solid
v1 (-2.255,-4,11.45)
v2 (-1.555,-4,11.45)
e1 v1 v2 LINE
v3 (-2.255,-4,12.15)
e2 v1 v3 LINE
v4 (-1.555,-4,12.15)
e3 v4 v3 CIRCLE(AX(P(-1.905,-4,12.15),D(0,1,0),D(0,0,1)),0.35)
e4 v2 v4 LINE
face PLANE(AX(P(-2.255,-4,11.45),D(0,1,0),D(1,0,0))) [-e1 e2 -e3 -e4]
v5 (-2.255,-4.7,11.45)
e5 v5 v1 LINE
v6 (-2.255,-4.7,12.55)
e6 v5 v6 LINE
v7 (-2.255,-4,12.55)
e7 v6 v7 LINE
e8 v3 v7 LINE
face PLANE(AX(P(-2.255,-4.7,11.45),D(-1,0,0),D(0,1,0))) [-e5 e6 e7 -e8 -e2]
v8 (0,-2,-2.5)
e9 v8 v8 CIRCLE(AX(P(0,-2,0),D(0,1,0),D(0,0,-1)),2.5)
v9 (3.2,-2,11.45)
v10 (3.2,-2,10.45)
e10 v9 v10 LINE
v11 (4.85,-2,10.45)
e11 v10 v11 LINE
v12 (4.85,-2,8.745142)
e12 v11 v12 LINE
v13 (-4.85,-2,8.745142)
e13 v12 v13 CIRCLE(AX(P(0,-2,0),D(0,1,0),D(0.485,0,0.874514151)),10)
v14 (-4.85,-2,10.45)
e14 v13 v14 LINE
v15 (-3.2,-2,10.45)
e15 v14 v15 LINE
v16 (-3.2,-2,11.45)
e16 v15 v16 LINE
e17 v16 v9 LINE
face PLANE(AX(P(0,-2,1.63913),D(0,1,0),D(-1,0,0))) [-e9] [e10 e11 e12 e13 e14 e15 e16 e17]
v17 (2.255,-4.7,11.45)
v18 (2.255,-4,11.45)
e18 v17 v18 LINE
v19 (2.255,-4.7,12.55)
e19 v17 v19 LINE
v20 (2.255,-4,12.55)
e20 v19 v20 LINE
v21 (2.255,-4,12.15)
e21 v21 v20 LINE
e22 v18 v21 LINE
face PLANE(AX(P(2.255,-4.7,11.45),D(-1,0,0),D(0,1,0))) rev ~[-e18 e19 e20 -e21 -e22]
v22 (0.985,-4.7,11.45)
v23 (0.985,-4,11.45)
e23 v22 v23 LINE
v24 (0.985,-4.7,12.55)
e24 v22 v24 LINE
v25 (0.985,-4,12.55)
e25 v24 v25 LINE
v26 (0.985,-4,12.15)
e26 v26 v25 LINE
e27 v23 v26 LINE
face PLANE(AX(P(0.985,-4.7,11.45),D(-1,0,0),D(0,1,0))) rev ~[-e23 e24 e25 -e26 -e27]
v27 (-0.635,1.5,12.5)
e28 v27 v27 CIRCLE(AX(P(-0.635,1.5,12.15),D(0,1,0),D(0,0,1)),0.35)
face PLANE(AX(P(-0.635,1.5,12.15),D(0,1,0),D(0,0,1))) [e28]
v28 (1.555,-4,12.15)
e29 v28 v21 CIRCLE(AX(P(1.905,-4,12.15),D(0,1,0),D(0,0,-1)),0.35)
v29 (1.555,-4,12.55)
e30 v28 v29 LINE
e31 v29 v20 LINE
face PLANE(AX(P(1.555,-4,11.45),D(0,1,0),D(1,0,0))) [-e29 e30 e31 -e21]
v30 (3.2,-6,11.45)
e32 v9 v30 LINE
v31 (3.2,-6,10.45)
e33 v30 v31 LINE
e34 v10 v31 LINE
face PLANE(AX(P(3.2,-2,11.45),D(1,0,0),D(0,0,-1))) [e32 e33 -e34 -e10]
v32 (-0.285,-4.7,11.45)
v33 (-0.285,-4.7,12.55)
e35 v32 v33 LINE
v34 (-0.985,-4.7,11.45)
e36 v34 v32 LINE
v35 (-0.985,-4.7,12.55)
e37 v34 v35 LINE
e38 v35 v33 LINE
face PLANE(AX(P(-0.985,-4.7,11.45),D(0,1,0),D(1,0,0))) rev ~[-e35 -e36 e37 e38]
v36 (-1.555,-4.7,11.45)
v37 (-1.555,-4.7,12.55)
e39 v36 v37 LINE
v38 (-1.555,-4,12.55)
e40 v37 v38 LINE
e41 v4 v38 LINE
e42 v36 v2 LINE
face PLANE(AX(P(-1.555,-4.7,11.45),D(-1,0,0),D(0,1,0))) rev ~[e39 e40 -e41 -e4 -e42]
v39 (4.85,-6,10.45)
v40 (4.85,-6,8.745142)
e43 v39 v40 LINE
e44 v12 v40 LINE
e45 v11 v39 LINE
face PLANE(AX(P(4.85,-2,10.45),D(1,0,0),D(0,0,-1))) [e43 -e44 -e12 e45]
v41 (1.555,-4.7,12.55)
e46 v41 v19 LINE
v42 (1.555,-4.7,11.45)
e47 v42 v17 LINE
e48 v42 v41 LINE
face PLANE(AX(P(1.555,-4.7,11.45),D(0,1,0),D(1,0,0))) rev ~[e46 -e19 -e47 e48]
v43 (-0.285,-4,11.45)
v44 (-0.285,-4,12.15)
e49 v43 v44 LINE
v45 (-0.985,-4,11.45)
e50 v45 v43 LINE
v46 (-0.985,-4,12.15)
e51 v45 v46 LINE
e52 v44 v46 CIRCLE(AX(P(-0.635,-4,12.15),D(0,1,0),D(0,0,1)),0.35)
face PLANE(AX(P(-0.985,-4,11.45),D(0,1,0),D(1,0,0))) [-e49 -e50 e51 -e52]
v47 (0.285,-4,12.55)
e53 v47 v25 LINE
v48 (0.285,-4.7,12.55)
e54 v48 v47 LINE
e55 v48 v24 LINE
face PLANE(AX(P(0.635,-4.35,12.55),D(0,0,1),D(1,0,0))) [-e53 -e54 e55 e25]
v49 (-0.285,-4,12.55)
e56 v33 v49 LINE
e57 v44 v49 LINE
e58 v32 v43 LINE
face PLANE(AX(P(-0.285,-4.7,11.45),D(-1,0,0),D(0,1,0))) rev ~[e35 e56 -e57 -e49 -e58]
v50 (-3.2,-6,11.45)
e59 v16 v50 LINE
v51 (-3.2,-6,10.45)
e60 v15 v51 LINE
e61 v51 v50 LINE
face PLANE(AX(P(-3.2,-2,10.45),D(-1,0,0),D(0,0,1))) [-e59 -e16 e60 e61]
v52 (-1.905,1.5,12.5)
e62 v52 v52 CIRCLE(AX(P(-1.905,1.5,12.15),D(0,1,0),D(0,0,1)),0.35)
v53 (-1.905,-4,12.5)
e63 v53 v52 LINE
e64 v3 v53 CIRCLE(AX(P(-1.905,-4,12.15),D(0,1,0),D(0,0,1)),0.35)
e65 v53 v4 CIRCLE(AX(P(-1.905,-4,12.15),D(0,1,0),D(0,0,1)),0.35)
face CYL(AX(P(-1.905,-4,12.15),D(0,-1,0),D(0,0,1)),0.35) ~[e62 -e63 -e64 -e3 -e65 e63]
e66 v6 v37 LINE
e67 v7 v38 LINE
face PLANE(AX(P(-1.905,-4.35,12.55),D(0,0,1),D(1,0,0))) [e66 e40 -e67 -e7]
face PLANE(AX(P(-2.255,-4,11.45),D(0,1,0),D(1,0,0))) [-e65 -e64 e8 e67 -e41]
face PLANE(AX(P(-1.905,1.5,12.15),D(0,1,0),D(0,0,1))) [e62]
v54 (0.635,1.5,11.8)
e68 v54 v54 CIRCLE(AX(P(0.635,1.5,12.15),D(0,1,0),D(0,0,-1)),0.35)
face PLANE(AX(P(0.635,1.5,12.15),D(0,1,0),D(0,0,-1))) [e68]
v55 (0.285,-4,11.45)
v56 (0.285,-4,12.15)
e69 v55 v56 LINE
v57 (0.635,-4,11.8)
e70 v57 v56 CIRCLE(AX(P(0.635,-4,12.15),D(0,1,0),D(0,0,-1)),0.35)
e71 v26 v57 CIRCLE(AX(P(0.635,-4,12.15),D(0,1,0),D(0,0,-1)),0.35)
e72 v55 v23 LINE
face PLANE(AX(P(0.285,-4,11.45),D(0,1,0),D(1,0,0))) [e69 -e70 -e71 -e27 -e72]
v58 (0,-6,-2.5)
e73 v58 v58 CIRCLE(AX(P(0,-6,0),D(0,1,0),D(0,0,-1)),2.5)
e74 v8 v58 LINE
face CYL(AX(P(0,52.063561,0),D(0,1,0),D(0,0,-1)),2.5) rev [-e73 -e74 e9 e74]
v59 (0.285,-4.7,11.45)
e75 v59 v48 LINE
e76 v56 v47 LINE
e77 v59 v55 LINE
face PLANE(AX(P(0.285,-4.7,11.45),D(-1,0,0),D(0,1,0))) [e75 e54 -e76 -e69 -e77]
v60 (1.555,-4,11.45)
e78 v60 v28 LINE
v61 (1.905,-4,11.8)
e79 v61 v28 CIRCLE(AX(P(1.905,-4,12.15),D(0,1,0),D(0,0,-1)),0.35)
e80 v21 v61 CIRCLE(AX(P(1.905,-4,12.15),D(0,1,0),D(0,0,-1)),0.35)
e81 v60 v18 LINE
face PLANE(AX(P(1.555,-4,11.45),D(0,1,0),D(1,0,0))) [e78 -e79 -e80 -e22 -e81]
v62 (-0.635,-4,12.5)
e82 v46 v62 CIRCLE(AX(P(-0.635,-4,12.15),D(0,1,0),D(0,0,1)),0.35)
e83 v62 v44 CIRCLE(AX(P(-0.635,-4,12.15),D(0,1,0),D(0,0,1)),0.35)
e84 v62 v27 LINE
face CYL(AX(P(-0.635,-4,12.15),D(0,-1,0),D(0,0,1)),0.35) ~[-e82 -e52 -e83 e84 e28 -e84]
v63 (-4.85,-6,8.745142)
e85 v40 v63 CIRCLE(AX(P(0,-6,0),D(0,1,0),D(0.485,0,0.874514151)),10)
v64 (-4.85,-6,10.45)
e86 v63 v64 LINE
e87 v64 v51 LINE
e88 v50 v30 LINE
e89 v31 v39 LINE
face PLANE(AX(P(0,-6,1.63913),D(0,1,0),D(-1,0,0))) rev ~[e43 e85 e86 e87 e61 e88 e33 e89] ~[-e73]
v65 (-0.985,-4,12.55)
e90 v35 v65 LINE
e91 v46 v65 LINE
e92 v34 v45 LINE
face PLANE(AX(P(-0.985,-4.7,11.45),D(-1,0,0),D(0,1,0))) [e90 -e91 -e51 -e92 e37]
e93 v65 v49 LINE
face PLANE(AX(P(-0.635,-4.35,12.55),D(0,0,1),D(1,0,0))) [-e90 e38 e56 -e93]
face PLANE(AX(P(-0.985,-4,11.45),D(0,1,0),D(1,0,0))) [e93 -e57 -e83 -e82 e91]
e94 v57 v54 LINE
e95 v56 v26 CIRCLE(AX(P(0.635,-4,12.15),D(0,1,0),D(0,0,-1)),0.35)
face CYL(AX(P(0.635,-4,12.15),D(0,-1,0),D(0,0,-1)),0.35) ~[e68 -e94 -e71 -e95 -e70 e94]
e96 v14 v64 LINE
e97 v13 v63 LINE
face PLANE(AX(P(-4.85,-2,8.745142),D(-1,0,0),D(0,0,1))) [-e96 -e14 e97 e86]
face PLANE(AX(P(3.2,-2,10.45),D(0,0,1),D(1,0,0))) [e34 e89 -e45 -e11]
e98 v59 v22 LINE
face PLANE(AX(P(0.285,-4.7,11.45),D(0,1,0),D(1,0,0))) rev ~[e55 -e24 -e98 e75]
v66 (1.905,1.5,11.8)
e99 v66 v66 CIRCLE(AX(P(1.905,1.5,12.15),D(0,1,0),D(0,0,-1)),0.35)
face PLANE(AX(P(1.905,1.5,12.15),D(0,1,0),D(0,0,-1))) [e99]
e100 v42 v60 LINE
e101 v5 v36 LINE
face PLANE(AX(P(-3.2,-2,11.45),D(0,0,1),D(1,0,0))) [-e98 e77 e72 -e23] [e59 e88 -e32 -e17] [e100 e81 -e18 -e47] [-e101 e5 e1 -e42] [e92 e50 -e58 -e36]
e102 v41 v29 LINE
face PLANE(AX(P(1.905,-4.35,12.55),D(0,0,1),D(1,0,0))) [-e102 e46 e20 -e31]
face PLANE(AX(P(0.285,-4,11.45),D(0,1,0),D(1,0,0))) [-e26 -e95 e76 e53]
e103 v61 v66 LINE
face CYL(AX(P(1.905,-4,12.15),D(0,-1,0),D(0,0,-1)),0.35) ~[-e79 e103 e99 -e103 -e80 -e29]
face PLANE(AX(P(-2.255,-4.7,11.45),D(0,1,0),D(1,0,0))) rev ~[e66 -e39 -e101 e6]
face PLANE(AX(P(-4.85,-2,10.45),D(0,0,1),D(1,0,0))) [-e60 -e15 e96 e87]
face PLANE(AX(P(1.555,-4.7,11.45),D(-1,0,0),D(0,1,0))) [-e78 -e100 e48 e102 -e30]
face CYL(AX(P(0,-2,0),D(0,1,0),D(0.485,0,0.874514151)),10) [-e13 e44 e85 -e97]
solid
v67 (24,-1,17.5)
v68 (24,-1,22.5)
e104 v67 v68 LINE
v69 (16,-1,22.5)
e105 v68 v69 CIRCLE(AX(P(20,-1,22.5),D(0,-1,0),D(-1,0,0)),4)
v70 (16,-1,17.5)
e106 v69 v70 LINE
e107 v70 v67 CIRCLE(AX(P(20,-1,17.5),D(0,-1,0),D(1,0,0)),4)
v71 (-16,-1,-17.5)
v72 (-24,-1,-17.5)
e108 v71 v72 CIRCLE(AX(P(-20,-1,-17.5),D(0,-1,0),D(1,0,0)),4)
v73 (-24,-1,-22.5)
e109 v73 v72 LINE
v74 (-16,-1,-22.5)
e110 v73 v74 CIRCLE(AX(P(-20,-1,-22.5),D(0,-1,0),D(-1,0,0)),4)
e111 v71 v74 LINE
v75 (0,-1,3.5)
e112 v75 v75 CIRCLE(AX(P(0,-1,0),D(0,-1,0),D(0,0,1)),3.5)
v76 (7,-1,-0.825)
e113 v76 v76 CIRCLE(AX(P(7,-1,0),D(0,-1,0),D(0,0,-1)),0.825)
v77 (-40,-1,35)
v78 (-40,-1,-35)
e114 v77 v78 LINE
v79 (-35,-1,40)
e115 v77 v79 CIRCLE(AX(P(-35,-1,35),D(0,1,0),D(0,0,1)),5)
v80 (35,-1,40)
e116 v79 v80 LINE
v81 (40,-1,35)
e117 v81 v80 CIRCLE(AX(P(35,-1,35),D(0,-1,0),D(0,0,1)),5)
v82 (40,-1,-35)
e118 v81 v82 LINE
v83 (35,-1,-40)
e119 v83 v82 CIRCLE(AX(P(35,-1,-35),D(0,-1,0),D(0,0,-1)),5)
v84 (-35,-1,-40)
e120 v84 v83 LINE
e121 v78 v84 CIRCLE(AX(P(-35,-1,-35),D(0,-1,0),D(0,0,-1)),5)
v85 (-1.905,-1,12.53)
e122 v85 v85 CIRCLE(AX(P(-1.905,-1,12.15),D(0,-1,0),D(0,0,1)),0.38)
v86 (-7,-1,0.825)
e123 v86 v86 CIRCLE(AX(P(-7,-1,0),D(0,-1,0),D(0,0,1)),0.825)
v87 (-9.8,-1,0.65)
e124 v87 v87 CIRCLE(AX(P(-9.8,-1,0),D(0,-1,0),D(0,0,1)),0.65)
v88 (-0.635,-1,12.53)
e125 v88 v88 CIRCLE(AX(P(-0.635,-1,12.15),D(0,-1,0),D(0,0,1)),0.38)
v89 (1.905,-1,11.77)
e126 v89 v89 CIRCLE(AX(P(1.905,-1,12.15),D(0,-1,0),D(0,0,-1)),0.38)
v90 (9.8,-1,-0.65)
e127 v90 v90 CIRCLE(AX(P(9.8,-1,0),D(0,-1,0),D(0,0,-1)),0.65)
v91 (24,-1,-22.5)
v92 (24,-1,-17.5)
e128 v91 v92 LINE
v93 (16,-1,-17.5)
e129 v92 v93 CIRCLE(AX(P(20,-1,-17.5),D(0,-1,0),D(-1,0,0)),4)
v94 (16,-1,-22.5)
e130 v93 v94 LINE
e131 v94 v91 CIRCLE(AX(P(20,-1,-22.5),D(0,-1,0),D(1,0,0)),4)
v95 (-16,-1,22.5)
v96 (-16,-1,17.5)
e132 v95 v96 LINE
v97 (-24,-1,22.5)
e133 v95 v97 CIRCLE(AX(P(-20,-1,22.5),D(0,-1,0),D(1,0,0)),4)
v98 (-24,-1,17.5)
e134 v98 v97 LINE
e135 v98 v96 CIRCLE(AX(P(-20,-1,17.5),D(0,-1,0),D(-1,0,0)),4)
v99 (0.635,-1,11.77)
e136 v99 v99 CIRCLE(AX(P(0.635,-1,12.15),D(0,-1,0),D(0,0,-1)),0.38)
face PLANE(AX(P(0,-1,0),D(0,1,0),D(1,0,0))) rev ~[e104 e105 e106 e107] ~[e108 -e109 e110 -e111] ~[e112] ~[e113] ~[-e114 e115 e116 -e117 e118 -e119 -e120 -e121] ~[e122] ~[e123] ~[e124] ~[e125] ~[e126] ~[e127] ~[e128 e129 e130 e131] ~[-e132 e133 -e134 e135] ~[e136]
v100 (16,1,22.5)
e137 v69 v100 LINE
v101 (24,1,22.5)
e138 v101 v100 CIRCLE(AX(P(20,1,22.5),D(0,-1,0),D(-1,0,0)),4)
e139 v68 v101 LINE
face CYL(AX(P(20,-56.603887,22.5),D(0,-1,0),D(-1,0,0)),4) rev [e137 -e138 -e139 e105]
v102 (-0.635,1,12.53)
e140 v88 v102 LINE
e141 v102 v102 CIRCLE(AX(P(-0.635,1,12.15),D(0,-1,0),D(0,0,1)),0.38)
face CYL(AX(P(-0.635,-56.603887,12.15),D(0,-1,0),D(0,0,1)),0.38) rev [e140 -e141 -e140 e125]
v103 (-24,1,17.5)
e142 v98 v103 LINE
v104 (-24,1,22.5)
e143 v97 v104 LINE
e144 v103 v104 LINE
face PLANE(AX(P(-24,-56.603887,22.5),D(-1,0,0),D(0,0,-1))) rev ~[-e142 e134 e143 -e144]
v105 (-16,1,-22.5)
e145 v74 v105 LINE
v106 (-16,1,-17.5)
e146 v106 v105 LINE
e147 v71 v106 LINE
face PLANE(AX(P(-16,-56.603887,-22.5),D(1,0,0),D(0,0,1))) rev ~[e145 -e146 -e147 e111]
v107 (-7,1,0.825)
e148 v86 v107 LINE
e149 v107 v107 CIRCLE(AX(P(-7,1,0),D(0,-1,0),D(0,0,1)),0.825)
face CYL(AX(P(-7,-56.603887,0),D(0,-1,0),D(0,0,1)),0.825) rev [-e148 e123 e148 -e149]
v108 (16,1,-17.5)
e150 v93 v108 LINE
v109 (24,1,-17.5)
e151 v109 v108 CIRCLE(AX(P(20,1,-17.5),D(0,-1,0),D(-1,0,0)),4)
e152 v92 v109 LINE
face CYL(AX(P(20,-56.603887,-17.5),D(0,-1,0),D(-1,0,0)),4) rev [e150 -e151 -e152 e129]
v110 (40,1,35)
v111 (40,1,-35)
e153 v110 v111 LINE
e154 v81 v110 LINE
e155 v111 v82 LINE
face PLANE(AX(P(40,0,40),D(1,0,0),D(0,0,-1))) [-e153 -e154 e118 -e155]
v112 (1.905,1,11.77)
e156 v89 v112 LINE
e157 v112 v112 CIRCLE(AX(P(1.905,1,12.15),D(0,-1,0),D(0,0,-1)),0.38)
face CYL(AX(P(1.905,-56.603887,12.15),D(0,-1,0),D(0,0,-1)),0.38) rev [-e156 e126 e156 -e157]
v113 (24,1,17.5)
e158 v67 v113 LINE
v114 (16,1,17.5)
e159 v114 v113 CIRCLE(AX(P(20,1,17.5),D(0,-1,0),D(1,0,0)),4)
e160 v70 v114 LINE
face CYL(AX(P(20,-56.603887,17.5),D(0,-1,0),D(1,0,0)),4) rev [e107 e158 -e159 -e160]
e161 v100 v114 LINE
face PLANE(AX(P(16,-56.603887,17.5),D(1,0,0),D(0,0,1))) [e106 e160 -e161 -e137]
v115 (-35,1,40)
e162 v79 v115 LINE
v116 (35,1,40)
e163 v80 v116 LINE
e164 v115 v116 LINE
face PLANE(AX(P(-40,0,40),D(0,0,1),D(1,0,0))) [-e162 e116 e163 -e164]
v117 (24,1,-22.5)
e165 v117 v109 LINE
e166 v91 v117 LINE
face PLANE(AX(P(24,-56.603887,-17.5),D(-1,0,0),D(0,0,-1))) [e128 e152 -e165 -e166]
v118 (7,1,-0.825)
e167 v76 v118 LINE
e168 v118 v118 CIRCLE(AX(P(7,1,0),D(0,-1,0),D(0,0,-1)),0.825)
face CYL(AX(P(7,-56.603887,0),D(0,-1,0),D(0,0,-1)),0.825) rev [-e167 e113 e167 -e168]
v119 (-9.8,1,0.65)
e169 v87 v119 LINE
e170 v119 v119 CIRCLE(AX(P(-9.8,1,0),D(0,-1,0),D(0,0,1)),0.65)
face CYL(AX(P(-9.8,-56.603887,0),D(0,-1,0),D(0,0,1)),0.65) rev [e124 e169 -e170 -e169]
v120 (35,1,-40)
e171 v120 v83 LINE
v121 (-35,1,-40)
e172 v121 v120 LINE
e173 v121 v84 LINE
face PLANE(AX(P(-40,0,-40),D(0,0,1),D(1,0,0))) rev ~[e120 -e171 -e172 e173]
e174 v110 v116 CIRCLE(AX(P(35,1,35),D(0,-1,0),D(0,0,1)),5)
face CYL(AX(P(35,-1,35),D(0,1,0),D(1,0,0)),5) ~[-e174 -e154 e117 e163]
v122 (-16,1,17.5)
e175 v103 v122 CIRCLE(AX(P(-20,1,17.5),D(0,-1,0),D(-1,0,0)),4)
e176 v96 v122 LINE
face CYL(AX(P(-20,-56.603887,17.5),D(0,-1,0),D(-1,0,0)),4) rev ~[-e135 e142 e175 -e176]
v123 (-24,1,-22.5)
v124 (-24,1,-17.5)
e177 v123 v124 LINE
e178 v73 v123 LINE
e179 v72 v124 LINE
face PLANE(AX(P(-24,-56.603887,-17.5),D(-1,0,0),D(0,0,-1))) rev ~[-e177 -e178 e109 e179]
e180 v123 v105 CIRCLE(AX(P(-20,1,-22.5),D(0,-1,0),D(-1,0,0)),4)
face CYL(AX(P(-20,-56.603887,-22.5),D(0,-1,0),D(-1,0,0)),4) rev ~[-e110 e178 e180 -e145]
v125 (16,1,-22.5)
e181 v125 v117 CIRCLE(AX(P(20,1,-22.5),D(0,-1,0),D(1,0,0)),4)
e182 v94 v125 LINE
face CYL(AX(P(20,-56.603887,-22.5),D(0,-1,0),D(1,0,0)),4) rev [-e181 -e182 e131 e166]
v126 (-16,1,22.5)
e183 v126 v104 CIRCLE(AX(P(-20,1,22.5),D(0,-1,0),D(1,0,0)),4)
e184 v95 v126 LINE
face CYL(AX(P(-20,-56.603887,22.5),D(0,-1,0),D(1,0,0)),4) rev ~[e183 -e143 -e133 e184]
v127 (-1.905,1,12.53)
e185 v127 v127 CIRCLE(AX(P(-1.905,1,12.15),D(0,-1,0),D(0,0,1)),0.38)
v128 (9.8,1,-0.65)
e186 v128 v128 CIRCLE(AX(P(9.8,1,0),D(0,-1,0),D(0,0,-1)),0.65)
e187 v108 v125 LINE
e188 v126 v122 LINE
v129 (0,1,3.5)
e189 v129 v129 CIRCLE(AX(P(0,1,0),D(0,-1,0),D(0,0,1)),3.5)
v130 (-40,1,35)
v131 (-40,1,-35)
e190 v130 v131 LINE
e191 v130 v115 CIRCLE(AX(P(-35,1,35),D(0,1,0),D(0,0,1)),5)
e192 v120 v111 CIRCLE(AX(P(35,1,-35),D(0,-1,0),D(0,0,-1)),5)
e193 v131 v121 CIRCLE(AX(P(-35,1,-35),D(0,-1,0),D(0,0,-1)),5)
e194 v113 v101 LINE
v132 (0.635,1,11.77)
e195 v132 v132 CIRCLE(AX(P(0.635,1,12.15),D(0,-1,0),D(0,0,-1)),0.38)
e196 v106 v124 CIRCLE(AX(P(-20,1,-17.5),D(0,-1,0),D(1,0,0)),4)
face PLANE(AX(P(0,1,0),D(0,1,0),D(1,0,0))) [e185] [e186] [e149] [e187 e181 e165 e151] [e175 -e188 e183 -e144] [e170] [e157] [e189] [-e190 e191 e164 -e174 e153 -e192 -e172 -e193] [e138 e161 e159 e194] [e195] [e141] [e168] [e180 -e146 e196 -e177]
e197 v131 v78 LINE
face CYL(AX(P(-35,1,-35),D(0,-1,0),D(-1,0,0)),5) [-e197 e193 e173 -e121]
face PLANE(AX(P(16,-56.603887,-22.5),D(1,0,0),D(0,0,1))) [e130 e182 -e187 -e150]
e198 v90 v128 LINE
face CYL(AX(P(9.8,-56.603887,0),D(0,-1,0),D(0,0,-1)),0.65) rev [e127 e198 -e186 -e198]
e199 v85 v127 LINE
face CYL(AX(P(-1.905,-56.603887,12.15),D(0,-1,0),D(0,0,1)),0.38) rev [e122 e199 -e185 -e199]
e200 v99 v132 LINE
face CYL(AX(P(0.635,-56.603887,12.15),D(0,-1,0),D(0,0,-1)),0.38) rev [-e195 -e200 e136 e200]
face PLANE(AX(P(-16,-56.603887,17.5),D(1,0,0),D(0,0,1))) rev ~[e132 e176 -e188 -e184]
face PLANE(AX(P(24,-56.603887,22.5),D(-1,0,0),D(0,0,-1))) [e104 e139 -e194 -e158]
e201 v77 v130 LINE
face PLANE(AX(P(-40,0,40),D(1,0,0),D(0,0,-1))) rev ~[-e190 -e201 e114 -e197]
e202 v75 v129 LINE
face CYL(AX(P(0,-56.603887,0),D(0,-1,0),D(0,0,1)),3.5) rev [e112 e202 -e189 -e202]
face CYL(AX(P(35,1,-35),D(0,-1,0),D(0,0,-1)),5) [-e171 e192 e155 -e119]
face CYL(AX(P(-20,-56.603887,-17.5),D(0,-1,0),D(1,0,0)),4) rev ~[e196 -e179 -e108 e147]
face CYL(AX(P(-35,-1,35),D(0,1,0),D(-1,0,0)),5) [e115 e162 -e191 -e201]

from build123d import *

# Parameters (mm, degrees)
SKETCH1_W                  = 80
SKETCH1_H                  = 80
BOSS_EXTRUDE1_DEPTH        = 1
FILLET1_R                  = 5
FILLET3_R                  = 5
FILLET4_R                  = 5
FILLET5_R                  = 5
CUT_EXTRUDE1_DEPTH         = 57.603886792
CUT_EXTRUDE1_DEPTH_BACK    = 57.603886792
CUT_EXTRUDE2_DEPTH         = 57.603886792
CUT_EXTRUDE2_DEPTH_BACK    = 57.603886792
SKETCH3_R                  = 3.5
CUT_EXTRUDE3_DEPTH         = 57.603886792
CUT_EXTRUDE3_DEPTH_BACK    = 57.603886792
SKETCH4_R                  = 0.38
SKETCH4_R_2                = 0.65
SKETCH4_R_3                = 0.825
BOSS_EXTRUDE2_START        = 1
BOSS_EXTRUDE2_DEPTH        = 4
BOSS_EXTRUDE3_DEPTH        = 0.5
BOSS_EXTRUDE3_DEPTH_BACK   = 5
SKETCH7_R                  = 0.35
BOSS_EXTRUDE3_2_DEPTH      = 0.5
BOSS_EXTRUDE3_2_DEPTH_BACK = 5
BOSS_EXTRUDE3_3_DEPTH      = 0.5
BOSS_EXTRUDE3_3_DEPTH_BACK = 5
BOSS_EXTRUDE3_4_DEPTH      = 0.5
BOSS_EXTRUDE3_4_DEPTH_BACK = 5
SKETCH8_W                  = 0.7
SKETCH8_H                  = 0.7
BOSS_EXTRUDE4_DEPTH        = 1.1
CUT_EXTRUDE4_DEPTH         = 58.063561053
CUT_EXTRUDE4_DEPTH_BACK    = 58.063561053
SKETCH9_R                  = 2.5


with BuildPart() as part:
    # Sketch1 → Boss-Extrude1 (new, symmetric)
    with BuildSketch(Plane(origin=(0, 0, 0), x_dir=(1, 0, 0), z_dir=(0, 1, 0))):
        Rectangle(SKETCH1_W, SKETCH1_H)
    extrude(amount=BOSS_EXTRUDE1_DEPTH, both=True)

    # Fillet1
    fillet1_edges = [part.edges().sort_by_distance(p)[0] for p in [
        (-40, 0, 40),
    ]]
    fillet(fillet1_edges, radius=FILLET1_R)

    # Fillet3
    fillet3_edges = [part.edges().sort_by_distance(p)[0] for p in [
        (-40, 0, -40),
    ]]
    fillet(fillet3_edges, radius=FILLET3_R)

    # Fillet4
    fillet4_edges = [part.edges().sort_by_distance(p)[0] for p in [
        (40, 0, -40),
    ]]
    fillet(fillet4_edges, radius=FILLET4_R)

    # Fillet5
    fillet5_edges = [part.edges().sort_by_distance(p)[0] for p in [
        (40, 0, 40),
    ]]
    fillet(fillet5_edges, radius=FILLET5_R)

    # Sketch2 → Cut-Extrude1 (cut, two sides: drawn at the far end of the back side and taken through both)
    with BuildSketch(Plane(origin=(0, 1, 0), x_dir=(1, 0, 0), z_dir=(0, 1, 0)).offset(-CUT_EXTRUDE1_DEPTH_BACK)):
        with BuildLine():
            Line((-24, 17.5), (-24, 22.5))
            ThreePointArc((-24, 22.5), (-20, 26.5), (-16, 22.5))
            Line((-16, 22.5), (-16, 17.5))
            ThreePointArc((-16, 17.5), (-20, 13.5), (-24, 17.5))
        make_face()
        with BuildLine():
            Line((-16, -17.5), (-16, -22.5))
            ThreePointArc((-16, -22.5), (-20, -26.5), (-24, -22.5))
            Line((-24, -22.5), (-24, -17.5))
            ThreePointArc((-24, -17.5), (-20, -13.5), (-16, -17.5))
        make_face()
        with BuildLine():
            Line((16, -17.5), (16, -22.5))
            ThreePointArc((16, -22.5), (20, -26.5), (24, -22.5))
            Line((24, -22.5), (24, -17.5))
            ThreePointArc((24, -17.5), (20, -13.5), (16, -17.5))
        make_face()
        with BuildLine():
            Line((24, 17.5), (24, 22.5))
            ThreePointArc((24, 22.5), (20, 26.5), (16, 22.5))
            Line((16, 22.5), (16, 17.5))
            ThreePointArc((16, 17.5), (20, 13.5), (24, 17.5))
        make_face()
    extrude(amount=CUT_EXTRUDE1_DEPTH + CUT_EXTRUDE1_DEPTH_BACK, mode=Mode.SUBTRACT)

    # Sketch3 → Cut-Extrude2 (cut, two sides: drawn at the far end of the back side and taken through both)
    with BuildSketch(Plane(origin=(0, 1, 0), x_dir=(1, 0, 0), z_dir=(0, 1, 0)).offset(-CUT_EXTRUDE2_DEPTH_BACK)):
        with Locations(Location((0, 0, 0), (0, 0, 270))):
            Circle(SKETCH3_R)
    extrude(amount=CUT_EXTRUDE2_DEPTH + CUT_EXTRUDE2_DEPTH_BACK, mode=Mode.SUBTRACT)

    # Sketch4 → Cut-Extrude3 (cut, two sides: drawn at the far end of the back side and taken through both)
    with BuildSketch(Plane(origin=(0, 1, 0), x_dir=(1, 0, 0), z_dir=(0, 1, 0)).offset(-CUT_EXTRUDE3_DEPTH_BACK)):
        with Locations(Location((-0.635, -12.15, 0), (0, 0, 270))):
            Circle(SKETCH4_R)
        with Locations(Location((-1.905, -12.15, 0), (0, 0, 270))):
            Circle(SKETCH4_R)
        with Locations(Location((-9.8, 0, 0), (0, 0, 270))):
            Circle(SKETCH4_R_2)
        with Locations(Location((-7, 0, 0), (0, 0, 270))):
            Circle(SKETCH4_R_3)
        with Locations(Location((7, 0, 0), (0, 0, 90))):
            Circle(SKETCH4_R_3)
        with Locations(Location((9.8, 0, 0), (0, 0, 90))):
            Circle(SKETCH4_R_2)
        with Locations(Location((0.635, -12.15, 0), (0, 0, 90))):
            Circle(SKETCH4_R)
        with Locations(Location((1.905, -12.15, 0), (0, 0, 90))):
            Circle(SKETCH4_R)
    extrude(amount=CUT_EXTRUDE3_DEPTH + CUT_EXTRUDE3_DEPTH_BACK, mode=Mode.SUBTRACT)


with BuildPart() as body_2:
    # Sketch6 → Boss-Extrude2 (new body)
    with BuildSketch(Plane.XZ.offset(1).offset(BOSS_EXTRUDE2_START)):
        with BuildLine():
            Line((-4.85, 8.745141508), (-4.85, 10.45))
            Line((-4.85, 10.45), (-3.2, 10.45))
            Line((-3.2, 10.45), (-3.2, 11.45))
            Line((-3.2, 11.45), (3.2, 11.45))
            Line((3.2, 11.45), (3.2, 10.45))
            Line((3.2, 10.45), (4.85, 10.45))
            Line((4.85, 10.45), (4.85, 8.745141508))
            ThreePointArc((4.85, 8.745141508), (0, -10), (-4.85, 8.745141508))
        make_face()
    extrude(amount=BOSS_EXTRUDE2_DEPTH)



with BuildPart() as body_3:
    # Sketch7 → Boss-Extrude3 (new, two sides: drawn at the far end of the back side and taken through both)
    with BuildSketch(Plane(origin=(0, 1, 0), x_dir=(1, 0, 0), z_dir=(0, 1, 0)).offset(-BOSS_EXTRUDE3_DEPTH_BACK)):
        with Locations(Location((-1.905, -12.15, 0), (0, 0, 270))):
            Circle(SKETCH7_R)
    extrude(amount=BOSS_EXTRUDE3_DEPTH + BOSS_EXTRUDE3_DEPTH_BACK)


with BuildPart() as body_4:
    # Sketch7 → Boss-Extrude3 2 (new, two sides: drawn at the far end of the back side and taken through both)
    with BuildSketch(Plane(origin=(0, 1, 0), x_dir=(1, 0, 0), z_dir=(0, 1, 0)).offset(-BOSS_EXTRUDE3_2_DEPTH_BACK)):
        with Locations(Location((-0.635, -12.15, 0), (0, 0, 270))):
            Circle(SKETCH7_R)
    extrude(amount=BOSS_EXTRUDE3_2_DEPTH + BOSS_EXTRUDE3_2_DEPTH_BACK)


with BuildPart() as body_5:
    # Sketch7 → Boss-Extrude3 3 (new, two sides: drawn at the far end of the back side and taken through both)
    with BuildSketch(Plane(origin=(0, 1, 0), x_dir=(1, 0, 0), z_dir=(0, 1, 0)).offset(-BOSS_EXTRUDE3_3_DEPTH_BACK)):
        with Locations(Location((0.635, -12.15, 0), (0, 0, 90))):
            Circle(SKETCH7_R)
    extrude(amount=BOSS_EXTRUDE3_3_DEPTH + BOSS_EXTRUDE3_3_DEPTH_BACK)


with BuildPart() as body_6:
    # Sketch7 → Boss-Extrude3 4 (new, two sides: drawn at the far end of the back side and taken through both)
    with BuildSketch(Plane(origin=(0, 1, 0), x_dir=(1, 0, 0), z_dir=(0, 1, 0)).offset(-BOSS_EXTRUDE3_4_DEPTH_BACK)):
        with Locations(Location((1.905, -12.15, 0), (0, 0, 90))):
            Circle(SKETCH7_R)
    extrude(amount=BOSS_EXTRUDE3_4_DEPTH + BOSS_EXTRUDE3_4_DEPTH_BACK)


with BuildPart() as body_2_1:
    add(body_2.part)

    add(body_3.part)  # Boss-Extrude4 merges body 3

    add(body_4.part)  # Boss-Extrude4 merges body 4

    add(body_5.part)  # Boss-Extrude4 merges body 5

    add(body_6.part)  # Boss-Extrude4 merges body 6
    # Sketch8 → Boss-Extrude4 (add)
    with BuildSketch(Plane.XY.offset(11.45)):
        with Locations((-1.905, -4.35)):
            Rectangle(SKETCH8_W, SKETCH8_H)
        with Locations((-0.635, -4.35)):
            Rectangle(SKETCH8_W, SKETCH8_H)
        with Locations((0.635, -4.35)):
            Rectangle(SKETCH8_W, SKETCH8_H)
        with Locations((1.905, -4.35)):
            Rectangle(SKETCH8_W, SKETCH8_H)
    extrude(amount=BOSS_EXTRUDE4_DEPTH)

    # Sketch9 → Cut-Extrude4 (cut, two sides: drawn at the far end of the back side and taken through both)
    with BuildSketch(Plane.XZ.offset(6).offset(-CUT_EXTRUDE4_DEPTH_BACK)):
        with Locations(Location((0, 0, 0), (0, 0, 270))):
            Circle(SKETCH9_R)
    extrude(amount=CUT_EXTRUDE4_DEPTH + CUT_EXTRUDE4_DEPTH_BACK, mode=Mode.SUBTRACT)


solid = Compound([part.part, body_2_1.part])
